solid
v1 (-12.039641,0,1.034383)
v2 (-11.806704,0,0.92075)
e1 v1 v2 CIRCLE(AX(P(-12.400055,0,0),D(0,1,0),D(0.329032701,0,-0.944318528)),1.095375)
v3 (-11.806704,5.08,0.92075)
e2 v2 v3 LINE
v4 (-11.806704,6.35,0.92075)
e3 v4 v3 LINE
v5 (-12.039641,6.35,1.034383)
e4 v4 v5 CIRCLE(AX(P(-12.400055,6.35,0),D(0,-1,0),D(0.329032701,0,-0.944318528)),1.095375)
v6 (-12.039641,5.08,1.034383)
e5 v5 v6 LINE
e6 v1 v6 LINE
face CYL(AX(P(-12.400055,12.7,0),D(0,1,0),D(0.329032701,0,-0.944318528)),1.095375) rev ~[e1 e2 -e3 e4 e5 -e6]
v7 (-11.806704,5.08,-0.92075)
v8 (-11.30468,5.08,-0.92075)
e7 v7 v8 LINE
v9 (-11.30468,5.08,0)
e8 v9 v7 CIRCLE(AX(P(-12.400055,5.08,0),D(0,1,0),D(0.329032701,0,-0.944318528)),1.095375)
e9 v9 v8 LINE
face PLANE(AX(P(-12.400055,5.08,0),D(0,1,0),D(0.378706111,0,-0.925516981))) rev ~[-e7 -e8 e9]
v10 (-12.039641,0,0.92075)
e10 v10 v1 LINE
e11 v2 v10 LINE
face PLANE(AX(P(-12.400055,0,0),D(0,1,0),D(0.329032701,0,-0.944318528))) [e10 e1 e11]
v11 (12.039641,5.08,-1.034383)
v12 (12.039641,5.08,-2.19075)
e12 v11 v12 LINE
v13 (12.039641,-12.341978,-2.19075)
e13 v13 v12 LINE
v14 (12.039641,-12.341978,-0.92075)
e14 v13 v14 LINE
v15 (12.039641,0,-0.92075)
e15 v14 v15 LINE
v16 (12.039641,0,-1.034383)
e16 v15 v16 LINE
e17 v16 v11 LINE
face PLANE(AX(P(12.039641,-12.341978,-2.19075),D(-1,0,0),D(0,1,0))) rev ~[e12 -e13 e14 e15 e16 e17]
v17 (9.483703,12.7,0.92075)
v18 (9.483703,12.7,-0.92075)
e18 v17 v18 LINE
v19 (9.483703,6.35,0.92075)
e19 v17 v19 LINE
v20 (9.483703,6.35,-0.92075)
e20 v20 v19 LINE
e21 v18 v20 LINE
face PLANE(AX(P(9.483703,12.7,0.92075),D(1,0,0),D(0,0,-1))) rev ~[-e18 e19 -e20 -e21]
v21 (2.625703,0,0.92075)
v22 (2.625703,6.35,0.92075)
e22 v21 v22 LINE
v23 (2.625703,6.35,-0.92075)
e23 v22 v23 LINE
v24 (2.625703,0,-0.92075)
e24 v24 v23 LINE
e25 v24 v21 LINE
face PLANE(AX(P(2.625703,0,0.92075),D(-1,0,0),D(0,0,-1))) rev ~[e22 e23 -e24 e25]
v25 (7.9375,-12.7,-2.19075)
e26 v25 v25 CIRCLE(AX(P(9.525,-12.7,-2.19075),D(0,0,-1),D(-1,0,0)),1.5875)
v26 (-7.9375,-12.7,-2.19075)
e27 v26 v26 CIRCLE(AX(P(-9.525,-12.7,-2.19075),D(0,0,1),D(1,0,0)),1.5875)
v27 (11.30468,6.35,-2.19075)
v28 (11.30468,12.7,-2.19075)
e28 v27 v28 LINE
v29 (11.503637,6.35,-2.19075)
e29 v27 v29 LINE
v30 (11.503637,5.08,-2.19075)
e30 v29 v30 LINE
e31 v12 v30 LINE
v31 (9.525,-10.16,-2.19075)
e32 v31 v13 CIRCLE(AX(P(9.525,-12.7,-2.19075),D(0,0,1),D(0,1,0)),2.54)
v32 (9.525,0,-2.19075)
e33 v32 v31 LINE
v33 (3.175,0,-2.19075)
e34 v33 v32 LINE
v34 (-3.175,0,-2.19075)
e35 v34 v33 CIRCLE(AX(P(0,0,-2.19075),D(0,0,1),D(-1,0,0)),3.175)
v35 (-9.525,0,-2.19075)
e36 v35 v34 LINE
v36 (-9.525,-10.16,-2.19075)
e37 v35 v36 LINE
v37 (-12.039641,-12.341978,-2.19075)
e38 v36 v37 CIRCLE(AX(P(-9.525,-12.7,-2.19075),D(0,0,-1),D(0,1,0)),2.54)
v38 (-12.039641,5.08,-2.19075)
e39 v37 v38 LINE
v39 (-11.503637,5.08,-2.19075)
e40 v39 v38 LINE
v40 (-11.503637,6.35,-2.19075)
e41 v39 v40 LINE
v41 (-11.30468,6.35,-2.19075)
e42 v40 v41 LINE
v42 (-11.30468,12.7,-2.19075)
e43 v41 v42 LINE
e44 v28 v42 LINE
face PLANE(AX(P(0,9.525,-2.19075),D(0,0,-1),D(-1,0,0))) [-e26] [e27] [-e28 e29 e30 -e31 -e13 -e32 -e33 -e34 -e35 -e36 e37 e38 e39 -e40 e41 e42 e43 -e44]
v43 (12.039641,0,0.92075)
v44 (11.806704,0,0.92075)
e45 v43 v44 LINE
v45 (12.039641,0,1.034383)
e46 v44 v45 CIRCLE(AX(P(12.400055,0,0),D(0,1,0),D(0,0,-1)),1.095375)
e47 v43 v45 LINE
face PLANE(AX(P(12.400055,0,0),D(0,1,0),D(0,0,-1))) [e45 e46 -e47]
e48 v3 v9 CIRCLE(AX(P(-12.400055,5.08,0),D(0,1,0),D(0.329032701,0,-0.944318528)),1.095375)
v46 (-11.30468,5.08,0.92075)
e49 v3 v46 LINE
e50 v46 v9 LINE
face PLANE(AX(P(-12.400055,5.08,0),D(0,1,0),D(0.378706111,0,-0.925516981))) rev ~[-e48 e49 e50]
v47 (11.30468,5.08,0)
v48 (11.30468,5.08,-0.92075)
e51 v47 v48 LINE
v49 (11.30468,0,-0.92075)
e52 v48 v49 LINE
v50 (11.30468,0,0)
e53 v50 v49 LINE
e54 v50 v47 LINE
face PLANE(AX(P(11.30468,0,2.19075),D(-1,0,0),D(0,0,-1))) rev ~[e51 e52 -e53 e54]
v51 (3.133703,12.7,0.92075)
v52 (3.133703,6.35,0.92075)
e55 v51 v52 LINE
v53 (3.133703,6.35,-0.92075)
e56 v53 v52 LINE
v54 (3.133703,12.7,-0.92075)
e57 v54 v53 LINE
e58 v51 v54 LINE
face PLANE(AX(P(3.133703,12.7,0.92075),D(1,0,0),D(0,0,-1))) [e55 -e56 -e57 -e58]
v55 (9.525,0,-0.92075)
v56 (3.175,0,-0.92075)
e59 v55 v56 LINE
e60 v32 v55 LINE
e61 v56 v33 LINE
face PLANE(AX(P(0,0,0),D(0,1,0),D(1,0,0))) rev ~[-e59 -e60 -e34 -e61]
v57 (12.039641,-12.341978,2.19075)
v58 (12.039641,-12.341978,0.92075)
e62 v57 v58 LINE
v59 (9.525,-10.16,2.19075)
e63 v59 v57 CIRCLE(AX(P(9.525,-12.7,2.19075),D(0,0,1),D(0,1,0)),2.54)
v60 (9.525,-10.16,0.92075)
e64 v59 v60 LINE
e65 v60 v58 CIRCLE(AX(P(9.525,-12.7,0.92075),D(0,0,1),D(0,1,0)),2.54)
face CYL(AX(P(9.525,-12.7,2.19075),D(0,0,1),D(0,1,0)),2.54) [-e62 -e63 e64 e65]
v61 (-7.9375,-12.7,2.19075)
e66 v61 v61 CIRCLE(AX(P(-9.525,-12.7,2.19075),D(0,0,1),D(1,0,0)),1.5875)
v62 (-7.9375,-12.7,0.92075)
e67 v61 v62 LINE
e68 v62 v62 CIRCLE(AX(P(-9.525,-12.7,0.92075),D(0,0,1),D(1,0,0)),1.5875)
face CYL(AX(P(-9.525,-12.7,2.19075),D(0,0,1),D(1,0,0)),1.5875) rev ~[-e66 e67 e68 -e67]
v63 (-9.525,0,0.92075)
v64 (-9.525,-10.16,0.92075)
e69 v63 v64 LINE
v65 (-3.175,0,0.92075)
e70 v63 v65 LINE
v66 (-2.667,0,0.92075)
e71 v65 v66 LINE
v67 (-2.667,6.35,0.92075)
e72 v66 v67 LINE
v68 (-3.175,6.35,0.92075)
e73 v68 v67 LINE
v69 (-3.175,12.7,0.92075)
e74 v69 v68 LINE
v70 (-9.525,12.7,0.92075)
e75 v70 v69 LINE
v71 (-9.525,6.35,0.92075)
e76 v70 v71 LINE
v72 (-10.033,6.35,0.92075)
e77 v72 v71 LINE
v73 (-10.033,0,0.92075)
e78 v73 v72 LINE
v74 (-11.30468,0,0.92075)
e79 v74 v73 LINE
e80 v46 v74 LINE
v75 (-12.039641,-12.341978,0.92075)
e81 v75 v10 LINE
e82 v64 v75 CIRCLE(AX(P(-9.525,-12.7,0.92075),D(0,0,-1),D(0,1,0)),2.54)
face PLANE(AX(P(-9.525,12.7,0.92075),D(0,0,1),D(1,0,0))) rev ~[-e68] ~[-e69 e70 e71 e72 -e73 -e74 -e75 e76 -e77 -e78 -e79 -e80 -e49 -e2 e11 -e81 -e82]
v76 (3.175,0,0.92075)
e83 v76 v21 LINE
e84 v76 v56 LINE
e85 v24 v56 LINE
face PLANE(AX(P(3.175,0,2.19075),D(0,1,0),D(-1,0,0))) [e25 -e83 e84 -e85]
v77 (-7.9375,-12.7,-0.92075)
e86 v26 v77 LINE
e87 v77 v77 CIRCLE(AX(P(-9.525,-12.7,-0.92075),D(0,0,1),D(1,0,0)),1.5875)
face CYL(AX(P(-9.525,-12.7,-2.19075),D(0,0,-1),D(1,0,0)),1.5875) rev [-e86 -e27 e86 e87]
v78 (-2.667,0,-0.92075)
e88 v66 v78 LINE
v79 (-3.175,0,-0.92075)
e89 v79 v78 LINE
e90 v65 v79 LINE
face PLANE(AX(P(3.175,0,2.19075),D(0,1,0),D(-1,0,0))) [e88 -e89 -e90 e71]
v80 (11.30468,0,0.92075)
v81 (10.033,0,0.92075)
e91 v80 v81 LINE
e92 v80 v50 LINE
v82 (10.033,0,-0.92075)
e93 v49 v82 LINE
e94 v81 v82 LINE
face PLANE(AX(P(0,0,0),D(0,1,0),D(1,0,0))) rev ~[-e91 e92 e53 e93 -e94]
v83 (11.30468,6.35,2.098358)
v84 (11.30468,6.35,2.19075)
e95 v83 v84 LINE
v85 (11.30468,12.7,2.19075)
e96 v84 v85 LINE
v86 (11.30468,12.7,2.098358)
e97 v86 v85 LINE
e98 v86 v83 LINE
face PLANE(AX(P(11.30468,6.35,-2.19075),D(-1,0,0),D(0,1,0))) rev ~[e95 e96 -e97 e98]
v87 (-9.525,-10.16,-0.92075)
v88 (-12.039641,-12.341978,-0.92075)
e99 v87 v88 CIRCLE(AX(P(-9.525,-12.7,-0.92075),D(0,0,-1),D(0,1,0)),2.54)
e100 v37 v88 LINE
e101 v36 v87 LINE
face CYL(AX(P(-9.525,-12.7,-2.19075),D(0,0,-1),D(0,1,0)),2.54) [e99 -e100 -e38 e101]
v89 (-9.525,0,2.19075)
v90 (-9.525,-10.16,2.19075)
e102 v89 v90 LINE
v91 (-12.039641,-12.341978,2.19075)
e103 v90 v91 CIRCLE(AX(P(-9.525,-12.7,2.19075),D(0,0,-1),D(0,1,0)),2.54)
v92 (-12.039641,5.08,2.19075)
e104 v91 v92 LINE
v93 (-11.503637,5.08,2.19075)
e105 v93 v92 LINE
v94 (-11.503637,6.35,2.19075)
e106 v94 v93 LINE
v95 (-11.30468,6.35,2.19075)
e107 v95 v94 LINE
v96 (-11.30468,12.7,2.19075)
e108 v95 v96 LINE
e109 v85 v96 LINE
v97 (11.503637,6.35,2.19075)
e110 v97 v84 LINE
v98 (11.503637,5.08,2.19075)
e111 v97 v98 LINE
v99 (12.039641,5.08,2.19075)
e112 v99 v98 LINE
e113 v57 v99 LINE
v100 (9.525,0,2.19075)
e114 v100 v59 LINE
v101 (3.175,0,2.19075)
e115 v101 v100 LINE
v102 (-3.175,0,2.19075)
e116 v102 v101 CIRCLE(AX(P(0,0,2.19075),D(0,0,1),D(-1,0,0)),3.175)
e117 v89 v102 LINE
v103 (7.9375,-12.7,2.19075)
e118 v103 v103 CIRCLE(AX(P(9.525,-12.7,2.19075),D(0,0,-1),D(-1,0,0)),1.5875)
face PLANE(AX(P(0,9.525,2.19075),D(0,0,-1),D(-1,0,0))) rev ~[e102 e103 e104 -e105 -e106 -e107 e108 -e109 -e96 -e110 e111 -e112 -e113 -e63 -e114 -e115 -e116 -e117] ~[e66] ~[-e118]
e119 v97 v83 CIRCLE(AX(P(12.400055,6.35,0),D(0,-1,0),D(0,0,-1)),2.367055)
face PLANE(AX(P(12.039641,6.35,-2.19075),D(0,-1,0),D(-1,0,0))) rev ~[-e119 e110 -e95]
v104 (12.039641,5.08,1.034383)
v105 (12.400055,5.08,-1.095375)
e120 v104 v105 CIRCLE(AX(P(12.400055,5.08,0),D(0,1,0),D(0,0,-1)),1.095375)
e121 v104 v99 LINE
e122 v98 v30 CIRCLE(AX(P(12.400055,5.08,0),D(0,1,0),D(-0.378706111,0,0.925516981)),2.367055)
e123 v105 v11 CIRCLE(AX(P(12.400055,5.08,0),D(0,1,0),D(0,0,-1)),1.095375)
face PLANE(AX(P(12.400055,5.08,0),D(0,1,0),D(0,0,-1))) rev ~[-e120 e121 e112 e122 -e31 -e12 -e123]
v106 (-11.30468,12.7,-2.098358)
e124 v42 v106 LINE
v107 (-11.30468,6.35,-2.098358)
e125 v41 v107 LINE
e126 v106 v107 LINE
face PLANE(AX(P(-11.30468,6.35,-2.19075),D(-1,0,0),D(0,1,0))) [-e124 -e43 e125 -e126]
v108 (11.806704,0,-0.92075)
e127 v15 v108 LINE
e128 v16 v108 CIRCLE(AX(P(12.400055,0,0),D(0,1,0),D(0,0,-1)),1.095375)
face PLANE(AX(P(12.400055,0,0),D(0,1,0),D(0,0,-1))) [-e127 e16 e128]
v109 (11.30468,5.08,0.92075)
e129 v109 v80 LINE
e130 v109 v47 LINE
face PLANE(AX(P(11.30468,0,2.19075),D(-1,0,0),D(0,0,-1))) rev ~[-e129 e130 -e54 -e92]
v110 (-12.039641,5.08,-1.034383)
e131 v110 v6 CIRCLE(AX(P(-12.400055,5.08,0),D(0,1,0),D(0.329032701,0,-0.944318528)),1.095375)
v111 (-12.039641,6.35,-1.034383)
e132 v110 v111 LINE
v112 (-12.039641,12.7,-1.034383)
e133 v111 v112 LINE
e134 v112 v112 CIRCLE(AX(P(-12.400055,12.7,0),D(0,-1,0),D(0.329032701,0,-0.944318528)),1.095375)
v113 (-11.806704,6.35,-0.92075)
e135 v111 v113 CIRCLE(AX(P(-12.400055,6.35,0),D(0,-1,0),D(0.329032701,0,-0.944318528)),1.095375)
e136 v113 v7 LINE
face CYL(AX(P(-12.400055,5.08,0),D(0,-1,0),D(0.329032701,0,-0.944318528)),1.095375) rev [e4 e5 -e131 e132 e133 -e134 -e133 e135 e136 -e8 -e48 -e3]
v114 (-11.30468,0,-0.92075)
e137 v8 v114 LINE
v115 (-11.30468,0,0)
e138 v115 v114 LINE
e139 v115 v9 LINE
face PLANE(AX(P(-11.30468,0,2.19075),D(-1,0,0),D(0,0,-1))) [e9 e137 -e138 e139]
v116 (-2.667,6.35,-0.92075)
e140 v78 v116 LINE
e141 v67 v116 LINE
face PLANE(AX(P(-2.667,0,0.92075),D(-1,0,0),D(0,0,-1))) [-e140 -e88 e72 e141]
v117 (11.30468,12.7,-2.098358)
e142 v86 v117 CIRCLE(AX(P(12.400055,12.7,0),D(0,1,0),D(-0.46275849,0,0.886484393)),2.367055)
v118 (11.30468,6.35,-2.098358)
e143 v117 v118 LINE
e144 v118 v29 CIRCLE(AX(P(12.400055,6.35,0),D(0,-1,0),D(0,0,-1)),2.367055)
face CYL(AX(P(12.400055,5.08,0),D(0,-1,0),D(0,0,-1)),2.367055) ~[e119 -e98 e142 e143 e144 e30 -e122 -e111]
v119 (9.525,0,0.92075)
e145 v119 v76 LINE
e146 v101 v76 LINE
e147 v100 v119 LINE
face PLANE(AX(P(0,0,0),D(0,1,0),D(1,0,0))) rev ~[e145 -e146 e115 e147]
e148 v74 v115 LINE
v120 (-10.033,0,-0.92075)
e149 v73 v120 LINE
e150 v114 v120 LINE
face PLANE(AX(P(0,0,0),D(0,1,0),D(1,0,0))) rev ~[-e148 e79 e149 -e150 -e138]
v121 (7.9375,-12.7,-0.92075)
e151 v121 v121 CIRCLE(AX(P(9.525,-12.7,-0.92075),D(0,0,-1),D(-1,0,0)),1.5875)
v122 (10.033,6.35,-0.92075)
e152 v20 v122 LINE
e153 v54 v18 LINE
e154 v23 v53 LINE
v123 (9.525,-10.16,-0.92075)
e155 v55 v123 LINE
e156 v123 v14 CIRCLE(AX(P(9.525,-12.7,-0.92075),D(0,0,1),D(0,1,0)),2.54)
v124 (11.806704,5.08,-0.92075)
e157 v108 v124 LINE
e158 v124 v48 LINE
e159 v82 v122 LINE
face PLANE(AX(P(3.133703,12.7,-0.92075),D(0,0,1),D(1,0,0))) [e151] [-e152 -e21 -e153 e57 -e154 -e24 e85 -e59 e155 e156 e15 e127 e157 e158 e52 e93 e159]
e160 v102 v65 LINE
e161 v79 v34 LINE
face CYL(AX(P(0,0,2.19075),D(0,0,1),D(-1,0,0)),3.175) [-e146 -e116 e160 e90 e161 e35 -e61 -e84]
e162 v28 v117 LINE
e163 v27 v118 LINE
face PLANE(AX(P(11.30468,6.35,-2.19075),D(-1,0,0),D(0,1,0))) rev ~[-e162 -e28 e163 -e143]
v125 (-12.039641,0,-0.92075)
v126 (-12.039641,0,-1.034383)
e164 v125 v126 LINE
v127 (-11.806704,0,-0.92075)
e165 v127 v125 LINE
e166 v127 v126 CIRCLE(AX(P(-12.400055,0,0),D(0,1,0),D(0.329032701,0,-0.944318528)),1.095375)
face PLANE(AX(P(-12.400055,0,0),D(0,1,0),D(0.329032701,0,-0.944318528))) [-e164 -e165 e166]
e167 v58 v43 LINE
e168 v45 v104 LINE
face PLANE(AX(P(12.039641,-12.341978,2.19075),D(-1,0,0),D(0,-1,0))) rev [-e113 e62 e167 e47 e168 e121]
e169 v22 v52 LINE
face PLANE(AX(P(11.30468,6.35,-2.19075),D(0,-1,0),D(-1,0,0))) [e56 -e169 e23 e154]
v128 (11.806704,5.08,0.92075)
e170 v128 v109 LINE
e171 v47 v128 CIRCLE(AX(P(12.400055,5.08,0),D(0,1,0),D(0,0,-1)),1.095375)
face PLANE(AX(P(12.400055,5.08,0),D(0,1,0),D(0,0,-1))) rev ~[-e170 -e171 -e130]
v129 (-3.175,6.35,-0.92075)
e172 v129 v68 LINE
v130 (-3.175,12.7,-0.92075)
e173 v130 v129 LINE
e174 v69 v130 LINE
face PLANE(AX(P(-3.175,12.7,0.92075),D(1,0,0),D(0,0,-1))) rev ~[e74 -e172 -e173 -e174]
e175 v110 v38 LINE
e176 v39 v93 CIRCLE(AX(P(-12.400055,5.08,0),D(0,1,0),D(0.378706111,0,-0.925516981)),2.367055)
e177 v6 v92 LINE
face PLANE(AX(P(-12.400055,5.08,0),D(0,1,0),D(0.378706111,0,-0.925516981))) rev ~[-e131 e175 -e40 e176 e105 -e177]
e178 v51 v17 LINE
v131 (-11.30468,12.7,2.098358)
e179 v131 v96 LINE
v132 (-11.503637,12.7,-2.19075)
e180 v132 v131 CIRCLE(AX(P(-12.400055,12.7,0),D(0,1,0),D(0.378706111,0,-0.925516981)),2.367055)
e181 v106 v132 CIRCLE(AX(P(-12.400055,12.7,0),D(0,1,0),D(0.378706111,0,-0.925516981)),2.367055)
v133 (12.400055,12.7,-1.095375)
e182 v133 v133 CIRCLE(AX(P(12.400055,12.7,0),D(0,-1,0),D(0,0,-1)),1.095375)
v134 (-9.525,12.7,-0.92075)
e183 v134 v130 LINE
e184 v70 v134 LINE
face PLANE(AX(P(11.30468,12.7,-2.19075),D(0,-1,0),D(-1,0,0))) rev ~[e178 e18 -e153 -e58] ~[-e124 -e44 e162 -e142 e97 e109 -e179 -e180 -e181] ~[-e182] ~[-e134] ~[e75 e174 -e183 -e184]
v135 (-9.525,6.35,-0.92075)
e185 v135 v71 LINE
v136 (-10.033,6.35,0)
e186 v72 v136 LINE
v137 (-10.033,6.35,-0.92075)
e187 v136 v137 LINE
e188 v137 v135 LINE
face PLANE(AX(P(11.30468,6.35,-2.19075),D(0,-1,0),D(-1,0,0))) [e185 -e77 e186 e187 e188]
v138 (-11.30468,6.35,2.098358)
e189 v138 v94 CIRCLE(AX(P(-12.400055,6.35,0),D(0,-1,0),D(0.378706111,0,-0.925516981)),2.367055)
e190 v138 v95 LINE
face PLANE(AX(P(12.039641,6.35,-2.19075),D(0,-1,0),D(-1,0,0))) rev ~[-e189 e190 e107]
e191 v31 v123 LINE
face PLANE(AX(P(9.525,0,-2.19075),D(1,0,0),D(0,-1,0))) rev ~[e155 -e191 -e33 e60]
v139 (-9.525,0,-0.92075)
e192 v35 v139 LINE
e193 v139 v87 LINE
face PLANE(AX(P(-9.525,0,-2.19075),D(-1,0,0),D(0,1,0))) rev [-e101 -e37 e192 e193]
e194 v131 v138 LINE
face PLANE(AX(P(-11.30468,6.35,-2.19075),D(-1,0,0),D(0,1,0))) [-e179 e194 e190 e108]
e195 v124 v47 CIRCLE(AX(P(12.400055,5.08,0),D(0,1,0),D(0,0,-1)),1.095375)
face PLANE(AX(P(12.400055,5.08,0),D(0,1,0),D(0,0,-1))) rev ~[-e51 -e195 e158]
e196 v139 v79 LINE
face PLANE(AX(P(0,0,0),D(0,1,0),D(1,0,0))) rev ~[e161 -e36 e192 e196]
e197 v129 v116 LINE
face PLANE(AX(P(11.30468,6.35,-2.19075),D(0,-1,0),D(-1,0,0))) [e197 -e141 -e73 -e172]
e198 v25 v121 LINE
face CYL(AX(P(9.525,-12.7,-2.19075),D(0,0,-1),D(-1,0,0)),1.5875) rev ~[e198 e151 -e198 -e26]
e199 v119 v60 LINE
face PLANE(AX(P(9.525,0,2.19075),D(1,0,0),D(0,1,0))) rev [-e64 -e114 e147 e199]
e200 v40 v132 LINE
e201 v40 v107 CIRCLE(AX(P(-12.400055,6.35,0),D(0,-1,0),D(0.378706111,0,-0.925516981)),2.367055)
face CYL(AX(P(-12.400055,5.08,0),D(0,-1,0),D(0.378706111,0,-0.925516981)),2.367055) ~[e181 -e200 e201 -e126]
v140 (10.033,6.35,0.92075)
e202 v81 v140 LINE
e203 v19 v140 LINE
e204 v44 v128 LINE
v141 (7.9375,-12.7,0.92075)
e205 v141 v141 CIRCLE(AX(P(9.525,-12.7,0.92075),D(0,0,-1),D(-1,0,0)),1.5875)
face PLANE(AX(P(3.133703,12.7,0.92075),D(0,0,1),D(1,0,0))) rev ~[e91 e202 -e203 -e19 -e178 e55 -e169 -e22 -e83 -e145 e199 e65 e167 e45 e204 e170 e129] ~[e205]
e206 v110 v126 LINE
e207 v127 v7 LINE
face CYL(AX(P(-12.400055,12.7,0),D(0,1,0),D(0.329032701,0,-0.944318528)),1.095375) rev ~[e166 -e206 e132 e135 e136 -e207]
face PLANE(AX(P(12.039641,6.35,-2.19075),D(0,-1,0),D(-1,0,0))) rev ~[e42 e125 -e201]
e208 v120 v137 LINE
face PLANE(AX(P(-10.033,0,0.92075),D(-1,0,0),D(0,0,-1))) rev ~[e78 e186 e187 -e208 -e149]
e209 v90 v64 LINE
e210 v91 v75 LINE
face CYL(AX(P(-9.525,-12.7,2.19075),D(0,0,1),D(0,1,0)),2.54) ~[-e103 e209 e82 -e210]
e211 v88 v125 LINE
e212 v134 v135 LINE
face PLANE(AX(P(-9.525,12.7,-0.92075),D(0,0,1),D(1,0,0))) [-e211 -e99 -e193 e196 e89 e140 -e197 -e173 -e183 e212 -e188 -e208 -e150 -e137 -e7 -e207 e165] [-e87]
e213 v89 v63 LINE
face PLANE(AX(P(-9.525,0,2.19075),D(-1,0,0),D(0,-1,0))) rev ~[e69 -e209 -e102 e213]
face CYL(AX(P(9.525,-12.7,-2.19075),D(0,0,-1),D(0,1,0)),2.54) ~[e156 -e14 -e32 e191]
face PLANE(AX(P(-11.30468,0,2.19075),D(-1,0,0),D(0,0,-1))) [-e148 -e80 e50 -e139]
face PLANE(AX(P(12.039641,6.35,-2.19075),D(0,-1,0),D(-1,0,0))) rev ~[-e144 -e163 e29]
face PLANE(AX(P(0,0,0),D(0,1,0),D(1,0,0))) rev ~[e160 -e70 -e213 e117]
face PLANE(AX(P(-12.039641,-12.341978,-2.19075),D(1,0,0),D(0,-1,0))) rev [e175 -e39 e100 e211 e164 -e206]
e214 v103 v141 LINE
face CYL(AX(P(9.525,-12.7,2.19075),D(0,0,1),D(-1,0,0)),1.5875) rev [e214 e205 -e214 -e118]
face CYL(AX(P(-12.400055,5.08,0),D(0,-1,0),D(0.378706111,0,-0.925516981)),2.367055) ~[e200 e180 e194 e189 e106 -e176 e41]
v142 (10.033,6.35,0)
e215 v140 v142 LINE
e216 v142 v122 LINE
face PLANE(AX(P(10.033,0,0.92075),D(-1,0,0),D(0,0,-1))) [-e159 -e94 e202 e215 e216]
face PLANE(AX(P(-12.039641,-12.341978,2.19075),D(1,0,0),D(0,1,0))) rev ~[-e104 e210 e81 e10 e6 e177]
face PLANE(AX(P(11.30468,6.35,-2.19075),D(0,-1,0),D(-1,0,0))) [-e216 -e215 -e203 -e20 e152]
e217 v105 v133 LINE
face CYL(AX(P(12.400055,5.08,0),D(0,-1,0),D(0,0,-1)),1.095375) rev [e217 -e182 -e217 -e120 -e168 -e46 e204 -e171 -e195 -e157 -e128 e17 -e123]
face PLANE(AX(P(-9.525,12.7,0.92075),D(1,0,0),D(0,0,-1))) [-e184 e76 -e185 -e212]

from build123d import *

# Parameters (mm, degrees)
SKETCH1_W                = 22.609360872
SKETCH1_H                = 4.3815
SKETCH1_W_2              = 7.366
SKETCH1_H_2              = 1.8415
SKETCH1_W_3              = 7.407296779
BOSS_EXTRUDE1_DEPTH      = 6.35
BOSS_EXTRUDE2_REACH      = 15.15
BOSS_EXTRUDE3_START      = 2.19075
BOSS_EXTRUDE3_DEPTH      = 2.19075
SKETCH7_R                = 1.5875
BOSS_EXTRUDE4_DEPTH      = 1.27
MIRROR2_COPY_1_SKETCH_R  = 1.5875
MIRROR2_COPY_1_DEPTH     = 1.27
BOSS_EXTRUDE5_DEPTH      = 6.35
BOSS_EXTRUDE5_DEPTH_BACK = 1.27
SKETCH8_R                = 2.367055436
SKETCH8_R_2              = 1.095375
SKETCH9_W                = 22.609360872
SKETCH9_H                = 6.35
BOSS_EXTRUDE6_DEPTH      = 4.3815
SKETCH10_W               = 6.35
SKETCH10_H               = 1.8415
CUT_EXTRUDE1_DEPTH       = 12.7
SKETCH12_R               = 1.095375
CUT_EXTRUDE2_DEPTH       = 12.7


with BuildPart() as part:
    # Sketch1 → Boss-Extrude1 (new body)
    with BuildSketch(Plane(origin=(0, 0, 0), x_dir=(1, 0, 0), z_dir=(0, 1, 0))):
        Rectangle(SKETCH1_W, SKETCH1_H)
        with Locations((-6.35, 0)):
            Rectangle(SKETCH1_W_2, SKETCH1_H_2, mode=Mode.SUBTRACT)
        with Locations((6.329351611, 0)):
            Rectangle(SKETCH1_W_3, SKETCH1_H_2, mode=Mode.SUBTRACT)
    extrude(amount=BOSS_EXTRUDE1_DEPTH)

    # Boss-Extrude2: up to this face of the body (flat: up to its plane)
    boss_extrude2_end = Plane(part.part.faces().sort_by_distance((0, 3.175, -2.19075))[0])
    # Sketch2 → Boss-Extrude2 (add, up to the picked face)
    with BuildSketch(Plane.XY, mode=Mode.PRIVATE) as boss_extrude2_sk1:
        with BuildLine():
            Line((3.175, 0), (-3.175, 0))
            ThreePointArc((-3.175, 0), (0, -3.175), (3.175, 0))
        make_face()
    boss_extrude2_tool1 = split(extrude(boss_extrude2_sk1.sketch, amount=-BOSS_EXTRUDE2_REACH, mode=Mode.PRIVATE), bisect_by=boss_extrude2_end, keep=Keep.BOTH, mode=Mode.PRIVATE)
    add(boss_extrude2_tool1.solids().sort_by(Axis((0, -1.347512, 0), (0, 0, -1)))[0])

    # Sketch2<3> → Boss-Extrude3 (add)
    with BuildSketch(Plane.XY.offset(BOSS_EXTRUDE3_START)):
        with BuildLine():
            Line((3.175, 0), (-3.175, 0))
            ThreePointArc((-3.175, 0), (0, -3.175), (3.175, 0))
        make_face()
    extrude(amount=-BOSS_EXTRUDE3_DEPTH)

    # Sketch7 → Boss-Extrude4 (add)
    with BuildSketch(Plane.XY.offset(2.19075)):
        with BuildLine():
            Line((-9.525, 0), (-9.525, -10.16))
            ThreePointArc((-9.525, -10.16), (-7.860334077, -14.618459634), (-12.039641241, -12.341978452))
            Line((-12.039641241, -12.341978452), (-12.039641241, 0))
            Line((-12.039641241, 0), (-12.039641241, 6.35))
            Line((-12.039641241, 6.35), (-11.304680436, 6.35))
            Line((-11.304680436, 6.35), (-11.304680436, 0))
            Line((-11.304680436, 0), (-9.525, 0))
        make_face()
        with Locations((-9.525, -12.7)):
            Circle(SKETCH7_R, mode=Mode.SUBTRACT)
    boss_extrude4 = extrude(amount=-BOSS_EXTRUDE4_DEPTH)

    # Mirror1: Boss-Extrude4 across plane
    add(boss_extrude4.mirror(Plane(origin=(0, 0, 0), x_dir=(0, 0, 1), z_dir=(1, 0, 0))))

    # Mirror2: Boss-Extrude4 across plane
    add(boss_extrude4.mirror(Plane.XY))

    # Mirror2 copy 1 sketch → Mirror2 copy 1 (add)
    with BuildSketch(Plane(origin=(0, 0, -2.19075), x_dir=(-1, 0, 0), z_dir=(0, 0, -1))):
        with BuildLine():
            Line((-9.525, 0), (-9.525, -10.16))
            ThreePointArc((-9.525, -10.16), (-7.860334077, -14.618459634), (-12.039641241, -12.341978452))
            Line((-12.039641241, -12.341978452), (-12.039641241, 0))
            Line((-12.039641241, 0), (-12.039641241, 6.35))
            Line((-12.039641241, 6.35), (-11.304680436, 6.35))
            Line((-11.304680436, 6.35), (-11.304680436, 0))
            Line((-11.304680436, 0), (-9.525, 0))
        make_face()
        with Locations((-9.525, -12.7)):
            Circle(MIRROR2_COPY_1_SKETCH_R, mode=Mode.SUBTRACT)
    extrude(amount=-MIRROR2_COPY_1_DEPTH)

    # Sketch8 → Boss-Extrude5 (add, two sides: drawn at the far end of the back side and taken through both)
    # profile 1 of 2: a face of its own
    with BuildSketch(Plane(origin=(0, 6.35, 0), x_dir=(1, 0, 0), z_dir=(0, 1, 0)).offset(-BOSS_EXTRUDE5_DEPTH_BACK)):
        with Locations(Location((-12.400055436, 0, 0), (0, 0, 67.746440803))):
            Circle(SKETCH8_R)
        with Locations(Location((-12.400055436, 0, 0), (0, 0, 70.789925107))):
            Circle(SKETCH8_R_2, mode=Mode.SUBTRACT)
    # profile 2 of 2: a face of its own
    with BuildSketch(Plane(origin=(0, 6.35, 0), x_dir=(1, 0, 0), z_dir=(0, 1, 0)).offset(-BOSS_EXTRUDE5_DEPTH_BACK)):
        with Locations(Location((12.400055436, 0, 0), (0, 0, 90))):
            Circle(SKETCH8_R)
        with Locations(Location((12.400055436, 0, 0), (0, 0, 90))):
            Circle(SKETCH8_R_2, mode=Mode.SUBTRACT)
    extrude(amount=BOSS_EXTRUDE5_DEPTH + BOSS_EXTRUDE5_DEPTH_BACK)

    # Sketch9 → Boss-Extrude6 (add)
    with BuildSketch(Plane(origin=(0, 0, -2.19075), x_dir=(-1, 0, 0), z_dir=(0, 0, -1))):
        with Locations((0, 9.525)):
            Rectangle(SKETCH9_W, SKETCH9_H)
    extrude(amount=-BOSS_EXTRUDE6_DEPTH)

    # Sketch10 → Cut-Extrude1 (cut)
    with BuildSketch(Plane(origin=(0, 12.7, 0), x_dir=(1, 0, 0), z_dir=(0, 1, 0))):
        with Locations((6.308703221, 0)):
            Rectangle(SKETCH10_W, SKETCH10_H)
        with Locations((-6.35, 0)):
            Rectangle(SKETCH10_W, SKETCH10_H)
    extrude(amount=-CUT_EXTRUDE1_DEPTH, mode=Mode.SUBTRACT)

    # Sketch12 → Cut-Extrude2 (cut)
    with BuildSketch(Plane(origin=(0, 12.7, 0), x_dir=(1, 0, 0), z_dir=(0, 1, 0))):
        with Locations(Location((-12.400055436, 0, 0), (0, 0, 70.789925107))):
            Circle(SKETCH12_R)
        with Locations(Location((12.400055436, 0, 0), (0, 0, 90))):
            Circle(SKETCH12_R)
    extrude(amount=-CUT_EXTRUDE2_DEPTH, mode=Mode.SUBTRACT)


solid = part.part
